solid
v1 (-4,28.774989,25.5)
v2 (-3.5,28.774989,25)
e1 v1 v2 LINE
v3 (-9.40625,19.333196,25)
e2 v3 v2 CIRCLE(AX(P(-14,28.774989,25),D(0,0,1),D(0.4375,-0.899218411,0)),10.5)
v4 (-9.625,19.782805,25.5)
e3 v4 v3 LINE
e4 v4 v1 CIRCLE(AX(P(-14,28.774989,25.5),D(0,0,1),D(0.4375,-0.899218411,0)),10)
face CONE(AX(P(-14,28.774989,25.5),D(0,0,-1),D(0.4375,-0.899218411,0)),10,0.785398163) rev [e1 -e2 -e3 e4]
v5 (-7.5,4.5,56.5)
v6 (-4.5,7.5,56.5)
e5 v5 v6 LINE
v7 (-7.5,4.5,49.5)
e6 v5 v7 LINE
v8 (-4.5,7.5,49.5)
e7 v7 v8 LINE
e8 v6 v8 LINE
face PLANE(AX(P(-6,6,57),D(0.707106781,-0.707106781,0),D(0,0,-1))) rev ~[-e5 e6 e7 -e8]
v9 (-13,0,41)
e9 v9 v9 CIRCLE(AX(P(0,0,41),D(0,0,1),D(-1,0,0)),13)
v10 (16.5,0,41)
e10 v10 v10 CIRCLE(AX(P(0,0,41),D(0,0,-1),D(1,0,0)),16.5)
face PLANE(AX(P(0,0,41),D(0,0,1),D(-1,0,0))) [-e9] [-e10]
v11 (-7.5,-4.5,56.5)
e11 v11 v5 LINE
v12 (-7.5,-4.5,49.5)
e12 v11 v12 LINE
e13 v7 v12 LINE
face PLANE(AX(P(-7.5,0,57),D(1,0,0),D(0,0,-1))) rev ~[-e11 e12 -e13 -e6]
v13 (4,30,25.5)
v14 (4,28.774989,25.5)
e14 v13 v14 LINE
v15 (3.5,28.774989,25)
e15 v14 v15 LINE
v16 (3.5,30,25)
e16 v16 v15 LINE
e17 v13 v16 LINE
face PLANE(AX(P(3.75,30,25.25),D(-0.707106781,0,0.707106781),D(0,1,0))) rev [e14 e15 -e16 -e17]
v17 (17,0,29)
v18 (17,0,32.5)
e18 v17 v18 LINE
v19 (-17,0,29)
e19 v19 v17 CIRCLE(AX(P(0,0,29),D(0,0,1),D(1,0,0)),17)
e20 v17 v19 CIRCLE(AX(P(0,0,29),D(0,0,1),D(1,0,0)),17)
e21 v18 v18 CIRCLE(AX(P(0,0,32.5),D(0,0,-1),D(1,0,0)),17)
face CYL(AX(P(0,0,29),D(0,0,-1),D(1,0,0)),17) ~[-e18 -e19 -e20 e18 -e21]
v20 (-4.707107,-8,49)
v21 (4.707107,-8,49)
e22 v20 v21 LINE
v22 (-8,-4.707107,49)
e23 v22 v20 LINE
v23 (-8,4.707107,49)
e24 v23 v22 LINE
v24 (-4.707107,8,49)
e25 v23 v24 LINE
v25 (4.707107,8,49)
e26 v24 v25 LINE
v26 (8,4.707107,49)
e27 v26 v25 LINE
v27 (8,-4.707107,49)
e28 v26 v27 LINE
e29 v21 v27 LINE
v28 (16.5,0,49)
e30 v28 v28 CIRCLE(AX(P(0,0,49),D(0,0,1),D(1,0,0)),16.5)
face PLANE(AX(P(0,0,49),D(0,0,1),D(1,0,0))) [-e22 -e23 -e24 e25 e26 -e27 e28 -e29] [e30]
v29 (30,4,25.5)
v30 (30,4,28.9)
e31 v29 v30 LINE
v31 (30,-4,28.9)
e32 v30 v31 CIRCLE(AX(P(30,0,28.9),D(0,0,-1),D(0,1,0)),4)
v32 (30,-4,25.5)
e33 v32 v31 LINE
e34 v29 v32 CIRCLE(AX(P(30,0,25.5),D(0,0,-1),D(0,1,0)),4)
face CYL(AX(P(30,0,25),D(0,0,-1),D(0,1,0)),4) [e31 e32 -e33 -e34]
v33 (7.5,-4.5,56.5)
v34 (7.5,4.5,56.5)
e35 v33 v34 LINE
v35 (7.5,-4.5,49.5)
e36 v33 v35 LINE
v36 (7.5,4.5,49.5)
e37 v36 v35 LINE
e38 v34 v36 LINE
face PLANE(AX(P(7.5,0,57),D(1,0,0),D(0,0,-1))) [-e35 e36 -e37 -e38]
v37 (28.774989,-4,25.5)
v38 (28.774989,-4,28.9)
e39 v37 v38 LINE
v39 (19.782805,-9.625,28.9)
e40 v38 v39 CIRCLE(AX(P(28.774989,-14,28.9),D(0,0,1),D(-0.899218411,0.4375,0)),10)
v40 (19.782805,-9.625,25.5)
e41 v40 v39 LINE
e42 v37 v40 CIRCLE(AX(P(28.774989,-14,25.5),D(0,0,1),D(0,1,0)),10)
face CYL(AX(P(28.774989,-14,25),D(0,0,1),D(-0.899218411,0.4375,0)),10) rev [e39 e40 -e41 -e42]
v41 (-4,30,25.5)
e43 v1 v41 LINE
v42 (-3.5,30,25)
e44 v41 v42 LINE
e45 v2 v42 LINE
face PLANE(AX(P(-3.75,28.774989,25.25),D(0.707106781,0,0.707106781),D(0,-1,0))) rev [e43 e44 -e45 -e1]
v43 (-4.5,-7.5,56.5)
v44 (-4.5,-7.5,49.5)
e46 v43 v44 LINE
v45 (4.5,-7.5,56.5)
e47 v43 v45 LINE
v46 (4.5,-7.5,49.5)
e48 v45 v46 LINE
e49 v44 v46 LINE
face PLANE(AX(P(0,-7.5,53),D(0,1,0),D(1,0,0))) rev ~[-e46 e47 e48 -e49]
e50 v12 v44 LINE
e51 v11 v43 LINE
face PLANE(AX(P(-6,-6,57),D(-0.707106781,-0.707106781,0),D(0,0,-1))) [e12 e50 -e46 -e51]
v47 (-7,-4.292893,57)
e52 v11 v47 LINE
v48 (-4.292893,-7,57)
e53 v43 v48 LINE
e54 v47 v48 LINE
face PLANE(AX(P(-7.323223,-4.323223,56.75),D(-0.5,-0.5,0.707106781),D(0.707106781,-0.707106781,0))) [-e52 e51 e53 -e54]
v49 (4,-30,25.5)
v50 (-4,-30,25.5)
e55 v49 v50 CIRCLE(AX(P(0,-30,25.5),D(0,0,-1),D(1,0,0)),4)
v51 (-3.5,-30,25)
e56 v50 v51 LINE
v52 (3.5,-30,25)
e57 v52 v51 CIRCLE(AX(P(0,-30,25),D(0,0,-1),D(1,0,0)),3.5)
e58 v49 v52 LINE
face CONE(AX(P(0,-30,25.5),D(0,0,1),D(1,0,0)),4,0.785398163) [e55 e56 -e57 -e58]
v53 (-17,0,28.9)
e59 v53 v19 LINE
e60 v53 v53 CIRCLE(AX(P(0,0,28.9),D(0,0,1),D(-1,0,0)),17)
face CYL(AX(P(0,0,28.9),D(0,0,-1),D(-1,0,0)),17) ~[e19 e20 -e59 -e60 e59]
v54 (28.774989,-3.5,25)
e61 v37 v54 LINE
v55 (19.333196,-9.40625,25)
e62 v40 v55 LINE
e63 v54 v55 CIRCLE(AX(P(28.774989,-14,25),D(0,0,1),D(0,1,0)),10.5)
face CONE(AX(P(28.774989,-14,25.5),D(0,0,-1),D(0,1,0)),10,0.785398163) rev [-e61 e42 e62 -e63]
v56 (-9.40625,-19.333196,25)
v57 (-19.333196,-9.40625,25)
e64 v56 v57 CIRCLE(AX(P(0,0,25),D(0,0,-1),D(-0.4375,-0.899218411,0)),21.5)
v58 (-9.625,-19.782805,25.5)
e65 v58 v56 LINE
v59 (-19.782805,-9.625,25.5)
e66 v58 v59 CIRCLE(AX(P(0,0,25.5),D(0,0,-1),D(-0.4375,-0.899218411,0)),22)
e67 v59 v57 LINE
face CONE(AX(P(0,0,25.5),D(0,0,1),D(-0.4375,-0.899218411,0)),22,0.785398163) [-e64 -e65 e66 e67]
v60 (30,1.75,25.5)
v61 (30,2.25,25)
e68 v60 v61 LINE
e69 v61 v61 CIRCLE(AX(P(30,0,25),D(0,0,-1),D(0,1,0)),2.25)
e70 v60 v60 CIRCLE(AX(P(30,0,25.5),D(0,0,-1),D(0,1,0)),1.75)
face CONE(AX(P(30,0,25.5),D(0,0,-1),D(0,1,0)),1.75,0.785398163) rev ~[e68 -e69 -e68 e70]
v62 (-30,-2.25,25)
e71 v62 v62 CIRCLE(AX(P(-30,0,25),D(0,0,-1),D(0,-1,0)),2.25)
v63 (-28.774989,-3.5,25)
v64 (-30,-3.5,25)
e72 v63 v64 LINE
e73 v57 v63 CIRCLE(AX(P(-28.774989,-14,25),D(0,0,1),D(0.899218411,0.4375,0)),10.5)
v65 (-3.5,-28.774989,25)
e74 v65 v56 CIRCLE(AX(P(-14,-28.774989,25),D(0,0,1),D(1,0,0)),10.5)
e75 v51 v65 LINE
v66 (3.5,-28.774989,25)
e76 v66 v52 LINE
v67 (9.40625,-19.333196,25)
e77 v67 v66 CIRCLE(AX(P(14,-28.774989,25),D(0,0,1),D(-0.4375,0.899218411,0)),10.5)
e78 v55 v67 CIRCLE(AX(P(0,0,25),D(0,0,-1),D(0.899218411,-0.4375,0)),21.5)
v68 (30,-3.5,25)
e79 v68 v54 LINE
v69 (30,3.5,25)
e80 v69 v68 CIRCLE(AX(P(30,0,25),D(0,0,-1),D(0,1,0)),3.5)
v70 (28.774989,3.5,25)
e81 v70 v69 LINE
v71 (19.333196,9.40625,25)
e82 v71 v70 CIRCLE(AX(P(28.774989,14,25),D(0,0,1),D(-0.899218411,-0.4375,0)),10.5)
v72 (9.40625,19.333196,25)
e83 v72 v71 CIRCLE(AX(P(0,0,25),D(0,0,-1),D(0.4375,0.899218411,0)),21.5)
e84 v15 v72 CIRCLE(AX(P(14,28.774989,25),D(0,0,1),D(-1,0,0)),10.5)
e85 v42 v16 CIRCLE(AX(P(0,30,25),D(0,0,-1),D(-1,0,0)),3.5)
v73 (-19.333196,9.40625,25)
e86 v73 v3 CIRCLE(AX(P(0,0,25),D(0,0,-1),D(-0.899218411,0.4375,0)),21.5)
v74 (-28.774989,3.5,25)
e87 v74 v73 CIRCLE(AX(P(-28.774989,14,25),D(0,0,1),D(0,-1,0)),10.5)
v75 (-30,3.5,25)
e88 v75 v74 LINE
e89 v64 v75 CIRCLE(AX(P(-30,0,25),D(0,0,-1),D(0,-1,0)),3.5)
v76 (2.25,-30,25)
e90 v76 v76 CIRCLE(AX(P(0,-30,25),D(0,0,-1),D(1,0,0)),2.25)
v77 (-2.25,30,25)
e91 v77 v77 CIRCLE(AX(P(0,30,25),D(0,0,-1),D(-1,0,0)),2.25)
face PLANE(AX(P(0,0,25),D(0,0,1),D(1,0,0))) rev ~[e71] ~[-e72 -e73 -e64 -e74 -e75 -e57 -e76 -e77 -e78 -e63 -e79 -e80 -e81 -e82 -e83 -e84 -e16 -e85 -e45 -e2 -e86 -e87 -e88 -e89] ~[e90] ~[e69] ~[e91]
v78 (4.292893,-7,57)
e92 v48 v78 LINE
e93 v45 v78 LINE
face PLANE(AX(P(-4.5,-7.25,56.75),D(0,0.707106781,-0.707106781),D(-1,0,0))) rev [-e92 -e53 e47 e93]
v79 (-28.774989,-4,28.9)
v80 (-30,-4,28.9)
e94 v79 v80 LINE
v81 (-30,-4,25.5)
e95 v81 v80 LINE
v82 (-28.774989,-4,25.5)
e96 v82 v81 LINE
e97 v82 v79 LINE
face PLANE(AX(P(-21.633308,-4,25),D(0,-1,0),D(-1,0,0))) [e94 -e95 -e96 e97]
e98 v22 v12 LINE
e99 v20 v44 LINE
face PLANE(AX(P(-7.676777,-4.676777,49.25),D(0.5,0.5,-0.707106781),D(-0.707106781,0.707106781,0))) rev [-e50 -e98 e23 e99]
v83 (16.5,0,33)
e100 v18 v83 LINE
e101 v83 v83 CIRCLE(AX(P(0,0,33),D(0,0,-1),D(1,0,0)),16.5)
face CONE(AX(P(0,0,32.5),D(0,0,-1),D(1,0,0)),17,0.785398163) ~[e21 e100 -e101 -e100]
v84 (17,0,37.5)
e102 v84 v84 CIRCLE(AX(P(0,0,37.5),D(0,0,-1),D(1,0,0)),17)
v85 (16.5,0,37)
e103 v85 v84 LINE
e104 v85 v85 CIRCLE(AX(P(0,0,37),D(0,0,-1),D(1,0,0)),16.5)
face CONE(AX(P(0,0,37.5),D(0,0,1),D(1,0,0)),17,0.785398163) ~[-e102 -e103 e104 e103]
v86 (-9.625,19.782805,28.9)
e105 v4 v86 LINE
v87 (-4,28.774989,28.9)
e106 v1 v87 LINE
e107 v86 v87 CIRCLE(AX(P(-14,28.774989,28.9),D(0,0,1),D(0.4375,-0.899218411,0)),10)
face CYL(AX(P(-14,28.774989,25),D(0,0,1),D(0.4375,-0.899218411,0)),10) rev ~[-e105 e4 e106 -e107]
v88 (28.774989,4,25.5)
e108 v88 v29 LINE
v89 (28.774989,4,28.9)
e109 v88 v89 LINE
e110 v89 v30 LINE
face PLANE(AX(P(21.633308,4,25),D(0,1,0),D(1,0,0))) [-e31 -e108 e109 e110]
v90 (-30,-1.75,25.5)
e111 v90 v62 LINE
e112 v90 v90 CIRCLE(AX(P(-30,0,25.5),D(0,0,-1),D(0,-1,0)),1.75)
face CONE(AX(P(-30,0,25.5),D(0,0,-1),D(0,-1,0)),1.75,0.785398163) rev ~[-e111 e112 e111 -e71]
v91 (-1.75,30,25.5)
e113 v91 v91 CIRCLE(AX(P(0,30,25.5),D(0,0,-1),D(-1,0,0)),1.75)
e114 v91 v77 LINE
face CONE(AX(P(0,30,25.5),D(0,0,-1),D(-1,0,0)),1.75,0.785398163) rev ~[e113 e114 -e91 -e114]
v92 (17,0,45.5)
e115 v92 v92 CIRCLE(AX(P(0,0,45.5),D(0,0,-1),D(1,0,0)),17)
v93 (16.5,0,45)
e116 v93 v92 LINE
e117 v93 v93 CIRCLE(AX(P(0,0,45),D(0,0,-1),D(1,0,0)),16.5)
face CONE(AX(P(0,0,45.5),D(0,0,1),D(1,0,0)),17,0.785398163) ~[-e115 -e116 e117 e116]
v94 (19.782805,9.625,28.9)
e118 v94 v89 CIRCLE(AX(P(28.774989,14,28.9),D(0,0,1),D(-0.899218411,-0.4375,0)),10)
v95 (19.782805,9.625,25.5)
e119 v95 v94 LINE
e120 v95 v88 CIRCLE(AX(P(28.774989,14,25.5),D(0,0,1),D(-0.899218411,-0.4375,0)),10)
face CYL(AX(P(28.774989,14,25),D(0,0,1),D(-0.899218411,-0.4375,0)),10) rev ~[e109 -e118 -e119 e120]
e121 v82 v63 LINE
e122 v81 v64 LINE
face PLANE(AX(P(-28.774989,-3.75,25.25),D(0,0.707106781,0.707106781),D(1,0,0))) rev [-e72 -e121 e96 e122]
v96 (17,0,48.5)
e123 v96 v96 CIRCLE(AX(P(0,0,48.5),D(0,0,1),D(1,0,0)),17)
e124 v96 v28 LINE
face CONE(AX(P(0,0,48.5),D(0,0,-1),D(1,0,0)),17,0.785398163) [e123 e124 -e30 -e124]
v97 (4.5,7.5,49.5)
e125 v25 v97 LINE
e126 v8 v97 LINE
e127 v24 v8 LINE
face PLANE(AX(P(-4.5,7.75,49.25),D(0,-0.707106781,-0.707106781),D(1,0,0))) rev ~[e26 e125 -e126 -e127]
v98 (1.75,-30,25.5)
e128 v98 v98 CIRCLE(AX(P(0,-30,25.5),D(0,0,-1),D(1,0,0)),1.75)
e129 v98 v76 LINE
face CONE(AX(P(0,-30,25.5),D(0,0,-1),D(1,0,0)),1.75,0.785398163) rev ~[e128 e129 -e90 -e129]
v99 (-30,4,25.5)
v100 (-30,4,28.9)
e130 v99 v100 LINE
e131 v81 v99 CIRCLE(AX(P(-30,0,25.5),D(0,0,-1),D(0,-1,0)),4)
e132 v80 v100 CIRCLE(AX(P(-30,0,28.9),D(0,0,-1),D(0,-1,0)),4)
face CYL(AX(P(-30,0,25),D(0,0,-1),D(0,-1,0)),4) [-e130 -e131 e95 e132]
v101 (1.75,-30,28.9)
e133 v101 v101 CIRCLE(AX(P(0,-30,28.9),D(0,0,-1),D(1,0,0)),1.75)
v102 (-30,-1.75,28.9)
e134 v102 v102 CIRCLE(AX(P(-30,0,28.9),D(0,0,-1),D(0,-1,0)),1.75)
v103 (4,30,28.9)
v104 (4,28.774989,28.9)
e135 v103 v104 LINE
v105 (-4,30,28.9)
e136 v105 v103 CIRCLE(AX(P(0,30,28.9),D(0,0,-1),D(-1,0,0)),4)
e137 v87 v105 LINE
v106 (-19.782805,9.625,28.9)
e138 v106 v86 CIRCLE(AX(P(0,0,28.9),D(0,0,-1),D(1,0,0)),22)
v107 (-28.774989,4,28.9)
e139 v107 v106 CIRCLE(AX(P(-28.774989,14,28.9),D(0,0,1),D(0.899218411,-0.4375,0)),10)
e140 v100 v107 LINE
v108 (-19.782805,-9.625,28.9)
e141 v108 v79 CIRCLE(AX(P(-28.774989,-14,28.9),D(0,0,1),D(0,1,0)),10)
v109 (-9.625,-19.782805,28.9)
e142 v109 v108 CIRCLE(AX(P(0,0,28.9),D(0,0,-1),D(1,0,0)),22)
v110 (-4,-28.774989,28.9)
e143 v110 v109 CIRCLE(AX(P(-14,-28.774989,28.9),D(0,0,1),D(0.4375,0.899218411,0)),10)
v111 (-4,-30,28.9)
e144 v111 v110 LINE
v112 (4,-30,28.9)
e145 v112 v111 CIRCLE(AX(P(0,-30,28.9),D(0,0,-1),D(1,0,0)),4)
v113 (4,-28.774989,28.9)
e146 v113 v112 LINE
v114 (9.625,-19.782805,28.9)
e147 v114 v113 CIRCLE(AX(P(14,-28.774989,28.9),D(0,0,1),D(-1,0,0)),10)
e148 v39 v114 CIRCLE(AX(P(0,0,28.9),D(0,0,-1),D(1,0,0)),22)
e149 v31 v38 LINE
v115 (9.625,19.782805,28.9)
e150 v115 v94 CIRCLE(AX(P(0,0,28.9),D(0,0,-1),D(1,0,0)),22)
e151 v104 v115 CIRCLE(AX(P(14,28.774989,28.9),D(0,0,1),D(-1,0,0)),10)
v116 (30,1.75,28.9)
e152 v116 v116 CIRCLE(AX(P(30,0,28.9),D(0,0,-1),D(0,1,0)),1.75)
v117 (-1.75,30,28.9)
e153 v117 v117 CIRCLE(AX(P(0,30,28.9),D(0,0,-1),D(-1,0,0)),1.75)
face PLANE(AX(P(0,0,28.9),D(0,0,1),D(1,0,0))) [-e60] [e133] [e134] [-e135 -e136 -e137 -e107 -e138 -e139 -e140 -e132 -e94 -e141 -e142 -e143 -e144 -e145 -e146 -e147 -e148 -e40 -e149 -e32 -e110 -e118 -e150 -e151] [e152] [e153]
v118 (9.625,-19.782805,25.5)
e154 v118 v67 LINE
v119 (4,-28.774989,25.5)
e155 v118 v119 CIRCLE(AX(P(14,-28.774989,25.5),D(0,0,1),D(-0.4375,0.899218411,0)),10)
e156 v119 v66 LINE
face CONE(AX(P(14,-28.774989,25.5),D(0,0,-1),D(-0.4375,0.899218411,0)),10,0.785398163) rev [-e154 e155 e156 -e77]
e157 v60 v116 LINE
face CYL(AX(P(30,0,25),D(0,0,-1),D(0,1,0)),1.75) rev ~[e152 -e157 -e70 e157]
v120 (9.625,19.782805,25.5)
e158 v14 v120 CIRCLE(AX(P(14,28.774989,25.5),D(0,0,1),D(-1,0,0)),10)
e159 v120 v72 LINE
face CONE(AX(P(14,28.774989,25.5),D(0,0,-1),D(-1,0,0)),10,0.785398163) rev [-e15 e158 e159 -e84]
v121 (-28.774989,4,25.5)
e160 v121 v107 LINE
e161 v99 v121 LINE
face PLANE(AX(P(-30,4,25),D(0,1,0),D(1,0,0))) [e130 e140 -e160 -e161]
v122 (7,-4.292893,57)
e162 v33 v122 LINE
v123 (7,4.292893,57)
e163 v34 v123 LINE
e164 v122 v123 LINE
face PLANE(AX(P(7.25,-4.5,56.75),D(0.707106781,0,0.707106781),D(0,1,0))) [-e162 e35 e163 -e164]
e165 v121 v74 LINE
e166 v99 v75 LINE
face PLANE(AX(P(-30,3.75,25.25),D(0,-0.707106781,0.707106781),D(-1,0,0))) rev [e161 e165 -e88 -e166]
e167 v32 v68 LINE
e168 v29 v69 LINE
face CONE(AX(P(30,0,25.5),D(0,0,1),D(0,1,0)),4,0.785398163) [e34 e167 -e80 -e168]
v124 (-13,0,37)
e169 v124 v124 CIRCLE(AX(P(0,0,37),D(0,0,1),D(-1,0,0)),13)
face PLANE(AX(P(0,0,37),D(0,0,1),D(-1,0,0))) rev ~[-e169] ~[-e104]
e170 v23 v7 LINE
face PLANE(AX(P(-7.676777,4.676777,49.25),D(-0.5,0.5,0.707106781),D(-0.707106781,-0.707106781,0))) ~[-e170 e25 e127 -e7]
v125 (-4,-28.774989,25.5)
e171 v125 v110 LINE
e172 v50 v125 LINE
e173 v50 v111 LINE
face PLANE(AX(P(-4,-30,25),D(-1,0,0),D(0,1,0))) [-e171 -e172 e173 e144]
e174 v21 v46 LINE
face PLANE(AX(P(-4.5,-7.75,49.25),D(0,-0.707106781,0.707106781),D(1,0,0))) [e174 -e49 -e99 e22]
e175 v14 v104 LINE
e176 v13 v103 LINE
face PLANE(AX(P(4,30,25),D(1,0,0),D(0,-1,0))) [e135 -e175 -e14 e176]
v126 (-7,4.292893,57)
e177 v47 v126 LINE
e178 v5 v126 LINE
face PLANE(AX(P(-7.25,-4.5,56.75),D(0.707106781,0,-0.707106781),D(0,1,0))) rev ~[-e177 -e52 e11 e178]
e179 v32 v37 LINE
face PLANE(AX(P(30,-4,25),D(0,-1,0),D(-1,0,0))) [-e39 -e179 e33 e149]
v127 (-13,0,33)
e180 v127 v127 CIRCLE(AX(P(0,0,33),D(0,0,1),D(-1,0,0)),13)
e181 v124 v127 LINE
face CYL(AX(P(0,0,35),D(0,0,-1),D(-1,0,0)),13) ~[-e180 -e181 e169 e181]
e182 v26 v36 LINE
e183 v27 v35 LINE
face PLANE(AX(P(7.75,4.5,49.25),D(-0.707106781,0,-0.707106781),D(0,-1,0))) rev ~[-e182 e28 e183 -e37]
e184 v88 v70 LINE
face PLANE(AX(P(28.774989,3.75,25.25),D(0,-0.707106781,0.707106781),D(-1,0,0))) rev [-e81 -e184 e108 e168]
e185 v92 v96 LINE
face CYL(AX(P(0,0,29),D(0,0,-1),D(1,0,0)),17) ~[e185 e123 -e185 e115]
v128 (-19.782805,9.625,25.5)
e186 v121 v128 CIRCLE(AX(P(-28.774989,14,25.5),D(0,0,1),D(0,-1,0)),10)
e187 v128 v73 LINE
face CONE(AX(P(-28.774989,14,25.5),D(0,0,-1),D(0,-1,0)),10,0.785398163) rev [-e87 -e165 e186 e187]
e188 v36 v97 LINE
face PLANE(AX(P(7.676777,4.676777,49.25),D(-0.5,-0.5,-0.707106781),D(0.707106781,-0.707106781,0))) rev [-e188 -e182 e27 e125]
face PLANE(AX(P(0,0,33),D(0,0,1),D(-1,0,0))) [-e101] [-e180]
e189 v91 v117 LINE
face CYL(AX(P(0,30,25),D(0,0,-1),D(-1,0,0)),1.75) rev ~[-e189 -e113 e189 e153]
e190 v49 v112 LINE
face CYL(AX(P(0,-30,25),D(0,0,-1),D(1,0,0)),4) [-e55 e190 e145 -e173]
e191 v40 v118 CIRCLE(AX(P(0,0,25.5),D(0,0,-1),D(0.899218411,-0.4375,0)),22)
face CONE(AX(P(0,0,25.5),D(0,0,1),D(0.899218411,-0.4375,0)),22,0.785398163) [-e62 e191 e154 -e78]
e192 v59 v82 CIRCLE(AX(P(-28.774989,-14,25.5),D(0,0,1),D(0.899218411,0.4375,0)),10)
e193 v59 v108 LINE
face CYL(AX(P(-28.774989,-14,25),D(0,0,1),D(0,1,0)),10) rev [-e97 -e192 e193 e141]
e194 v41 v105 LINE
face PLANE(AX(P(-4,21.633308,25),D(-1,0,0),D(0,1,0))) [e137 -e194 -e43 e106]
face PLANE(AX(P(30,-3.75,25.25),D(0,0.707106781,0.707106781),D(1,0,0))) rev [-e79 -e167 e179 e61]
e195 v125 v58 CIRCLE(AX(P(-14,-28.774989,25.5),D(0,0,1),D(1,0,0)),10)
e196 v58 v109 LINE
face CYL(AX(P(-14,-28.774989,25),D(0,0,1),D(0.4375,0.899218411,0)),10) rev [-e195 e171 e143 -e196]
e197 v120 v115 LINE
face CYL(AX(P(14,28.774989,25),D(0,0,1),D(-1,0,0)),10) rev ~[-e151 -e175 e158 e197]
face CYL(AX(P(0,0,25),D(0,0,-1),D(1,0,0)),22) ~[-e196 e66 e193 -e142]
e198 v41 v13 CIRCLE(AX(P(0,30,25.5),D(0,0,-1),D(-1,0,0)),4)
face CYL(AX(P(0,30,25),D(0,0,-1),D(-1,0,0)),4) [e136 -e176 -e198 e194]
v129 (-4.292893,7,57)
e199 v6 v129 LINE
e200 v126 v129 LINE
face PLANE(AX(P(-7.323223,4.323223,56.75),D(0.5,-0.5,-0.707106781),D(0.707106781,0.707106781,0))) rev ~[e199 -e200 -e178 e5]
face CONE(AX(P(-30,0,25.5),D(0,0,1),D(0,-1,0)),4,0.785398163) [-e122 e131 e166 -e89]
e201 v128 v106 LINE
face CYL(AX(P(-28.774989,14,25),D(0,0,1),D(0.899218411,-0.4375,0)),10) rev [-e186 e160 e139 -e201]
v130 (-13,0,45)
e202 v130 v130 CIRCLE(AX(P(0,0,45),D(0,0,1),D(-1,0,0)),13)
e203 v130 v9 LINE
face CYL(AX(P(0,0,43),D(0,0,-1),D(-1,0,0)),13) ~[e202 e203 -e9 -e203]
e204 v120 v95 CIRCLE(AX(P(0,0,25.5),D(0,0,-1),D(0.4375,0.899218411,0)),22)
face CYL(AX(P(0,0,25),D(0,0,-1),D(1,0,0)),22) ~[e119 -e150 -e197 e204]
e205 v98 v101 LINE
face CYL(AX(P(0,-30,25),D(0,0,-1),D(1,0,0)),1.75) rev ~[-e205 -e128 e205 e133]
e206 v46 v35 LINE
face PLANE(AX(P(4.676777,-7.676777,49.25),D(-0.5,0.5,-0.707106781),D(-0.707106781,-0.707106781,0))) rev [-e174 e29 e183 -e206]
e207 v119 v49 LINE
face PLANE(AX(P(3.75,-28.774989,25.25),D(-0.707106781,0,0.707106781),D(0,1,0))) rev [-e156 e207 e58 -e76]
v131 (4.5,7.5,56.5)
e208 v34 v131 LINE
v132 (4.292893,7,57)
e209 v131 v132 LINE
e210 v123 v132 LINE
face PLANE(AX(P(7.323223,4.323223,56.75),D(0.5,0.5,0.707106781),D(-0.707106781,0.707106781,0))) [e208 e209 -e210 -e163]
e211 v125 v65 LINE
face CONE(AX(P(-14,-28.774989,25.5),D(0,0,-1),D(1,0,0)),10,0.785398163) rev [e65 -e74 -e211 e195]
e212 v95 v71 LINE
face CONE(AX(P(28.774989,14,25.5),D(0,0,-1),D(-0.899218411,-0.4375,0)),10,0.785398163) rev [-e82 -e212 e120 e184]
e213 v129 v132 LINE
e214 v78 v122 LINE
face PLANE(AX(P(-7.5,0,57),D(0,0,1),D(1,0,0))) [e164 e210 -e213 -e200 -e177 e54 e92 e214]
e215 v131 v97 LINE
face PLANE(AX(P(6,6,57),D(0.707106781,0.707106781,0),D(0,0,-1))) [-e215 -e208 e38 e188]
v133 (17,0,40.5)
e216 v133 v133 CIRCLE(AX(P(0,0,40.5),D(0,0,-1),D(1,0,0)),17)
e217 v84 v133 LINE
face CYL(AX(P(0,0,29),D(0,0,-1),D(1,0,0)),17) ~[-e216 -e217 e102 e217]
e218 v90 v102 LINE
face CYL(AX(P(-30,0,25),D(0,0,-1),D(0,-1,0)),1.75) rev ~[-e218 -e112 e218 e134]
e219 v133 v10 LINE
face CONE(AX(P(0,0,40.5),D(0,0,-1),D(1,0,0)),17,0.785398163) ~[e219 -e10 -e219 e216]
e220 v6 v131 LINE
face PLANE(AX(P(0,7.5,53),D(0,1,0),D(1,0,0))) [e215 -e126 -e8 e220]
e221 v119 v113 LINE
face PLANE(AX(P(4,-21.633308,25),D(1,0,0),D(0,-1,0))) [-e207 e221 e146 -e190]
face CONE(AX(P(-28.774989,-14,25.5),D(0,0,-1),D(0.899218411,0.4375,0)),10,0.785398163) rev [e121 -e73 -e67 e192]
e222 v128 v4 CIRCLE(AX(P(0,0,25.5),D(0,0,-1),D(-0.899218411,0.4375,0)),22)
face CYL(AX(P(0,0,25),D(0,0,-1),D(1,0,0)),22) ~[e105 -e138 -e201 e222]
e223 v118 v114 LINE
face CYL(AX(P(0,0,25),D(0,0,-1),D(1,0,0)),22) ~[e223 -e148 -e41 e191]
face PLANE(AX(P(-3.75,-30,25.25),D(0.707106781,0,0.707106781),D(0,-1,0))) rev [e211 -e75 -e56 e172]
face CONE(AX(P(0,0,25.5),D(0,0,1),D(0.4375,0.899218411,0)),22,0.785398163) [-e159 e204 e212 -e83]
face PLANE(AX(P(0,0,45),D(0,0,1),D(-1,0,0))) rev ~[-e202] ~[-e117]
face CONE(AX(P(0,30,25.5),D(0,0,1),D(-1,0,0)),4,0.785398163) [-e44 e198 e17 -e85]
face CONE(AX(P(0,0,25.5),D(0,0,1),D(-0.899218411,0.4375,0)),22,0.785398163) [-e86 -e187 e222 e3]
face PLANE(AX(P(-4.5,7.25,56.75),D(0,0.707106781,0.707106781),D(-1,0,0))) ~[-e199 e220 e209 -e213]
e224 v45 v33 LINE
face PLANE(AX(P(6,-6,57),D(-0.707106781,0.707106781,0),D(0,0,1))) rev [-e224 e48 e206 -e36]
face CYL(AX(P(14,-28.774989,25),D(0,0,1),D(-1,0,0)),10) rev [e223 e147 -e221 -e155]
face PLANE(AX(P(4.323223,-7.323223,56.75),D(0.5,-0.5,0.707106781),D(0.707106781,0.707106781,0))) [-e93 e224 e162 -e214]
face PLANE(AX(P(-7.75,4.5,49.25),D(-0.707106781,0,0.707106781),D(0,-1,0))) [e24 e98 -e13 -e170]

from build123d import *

# Parameters (mm, degrees)
SKETCH2_R           = 15
SKETCH1_R           = 25
SKETCH3_R           = 15
BOSS_EXTRUDE1_DEPTH = 5
FILLET1_R           = 10
SKETCH4_R           = 1.75
CUT_EXTRUDE1_DEPTH  = 130
SKETCH5_R           = 4
CUT_EXTRUDE2_DEPTH  = 130
SKETCH6_R           = 22
BOSS_EXTRUDE2_DEPTH = 4
SKETCH7_R           = 17
BOSS_EXTRUDE3_DEPTH = 20
SKETCH15_W          = 8.431609766
SKETCH15_H          = 4
SKETCH15_W_2        = 8.578672696
SKETCH18_R          = 12.5
CUT_EXTRUDE5_DEPTH  = 20
SKETCH19_R          = 47.987160243
CUT_EXTRUDE6_DEPTH  = 44.301270362
SKETCH20_R          = 1.75
BOSS_EXTRUDE5_DEPTH = 4
CIRPATTERN3_COUNT   = 4
FILLET2_R           = 10
CHAMFER1_SIZE       = 0.5
SKETCH22_W          = 15
SKETCH22_H          = 8
BOSS_EXTRUDE6_DEPTH = 7.5
CHAMFER2_SIZE       = 3
CHAMFER3_SIZE       = 0.5
CUT_EXTRUDE8_START  = -0.1
SKETCH24_R          = 41.017326151
SKETCH24_R_2        = 17
CUT_EXTRUDE8_DEPTH  = 0.1
CHAMFER4_SIZE       = 0.5


with BuildPart() as part:
    # Sketch2 → Loft1 section 0
    with BuildSketch(Plane.XY.offset(20)):
        Circle(SKETCH2_R)
    # Sketch1 → Loft1 section 1
    with BuildSketch(Plane.XY):
        Circle(SKETCH1_R)
    loft()

    # Sketch3 → Boss-Extrude1 (add)
    with BuildSketch(Plane.XY.offset(20)):
        Circle(SKETCH3_R)
    extrude(amount=BOSS_EXTRUDE1_DEPTH)

    # Fillet1
    fillet1_edges = [part.edges().sort_by_distance(p)[0] for p in [
        (-15, 0, 20),
    ]]
    fillet(fillet1_edges, radius=FILLET1_R)

    # Sketch4 → Cut-Extrude1 (cut)
    with BuildSketch(Plane(origin=(0, 0, 0), x_dir=(-1, 0, 0), z_dir=(0, 0, -1))):
        with Locations((0, 20)):
            Circle(SKETCH4_R)
        with Locations((-20, 0)):
            Circle(SKETCH4_R)
        with Locations((0, -20)):
            Circle(SKETCH4_R)
        with Locations((20, 0)):
            Circle(SKETCH4_R)
    extrude(amount=-CUT_EXTRUDE1_DEPTH, mode=Mode.SUBTRACT)

    # Sketch5 → Cut-Extrude2 (cut)
    with BuildSketch(Plane(origin=(0, 0, 3), x_dir=(-1, 0, 0), z_dir=(0, 0, -1))):
        with Locations((0, 20)):
            Circle(SKETCH5_R)
        with Locations((20, 0)):
            Circle(SKETCH5_R)
        with Locations((-20, 0)):
            Circle(SKETCH5_R)
        with Locations((0, -20)):
            Circle(SKETCH5_R)
    extrude(amount=-CUT_EXTRUDE2_DEPTH, mode=Mode.SUBTRACT)

    # Sketch6 → Boss-Extrude2 (add)
    with BuildSketch(Plane.XY.offset(25)):
        Circle(SKETCH6_R)
    extrude(amount=BOSS_EXTRUDE2_DEPTH)

    # Sketch7 → Boss-Extrude3 (add)
    with BuildSketch(Plane.XY.offset(29)):
        Circle(SKETCH7_R)
    extrude(amount=BOSS_EXTRUDE3_DEPTH)

    # Sketch15 → Cut-Revolve1 (revolve, cut)
    with BuildSketch(Plane(origin=(0, 0, 0), x_dir=(1, 0, 0), z_dir=(0, 1, 0))):
        with Locations((-17.215804883, -35)):
            Rectangle(SKETCH15_W, SKETCH15_H)
        with Locations((-17.289336348, -43)):
            Rectangle(SKETCH15_W_2, SKETCH15_H)
    revolve(axis=Axis((0, 0, 29), (0, 0, 1)), mode=Mode.SUBTRACT)

    # Sketch18 → Cut-Extrude5 (cut)
    with BuildSketch(Plane(origin=(0, 0, 0), x_dir=(-1, 0, 0), z_dir=(0, 0, -1))):
        Circle(SKETCH18_R)
    extrude(amount=-CUT_EXTRUDE5_DEPTH, mode=Mode.SUBTRACT)

    # Sketch19 → Cut-Extrude6 (cut, through all)
    with BuildSketch(Plane(origin=(0, 0, 25), x_dir=(-1, 0, 0), z_dir=(0, 0, -1))):
        Circle(SKETCH19_R)
    extrude(amount=CUT_EXTRUDE6_DEPTH, mode=Mode.SUBTRACT)

    # Sketch20 → Boss-Extrude5 (add)
    with BuildSketch(Plane(origin=(0, 0, 25), x_dir=(-1, 0, 0), z_dir=(0, 0, -1))):
        with BuildLine():
            Line((-4, 30), (-4, 21.633307653))
            ThreePointArc((-4, 21.633307653), (0, 22), (4, 21.633307653))
            Line((4, 21.633307653), (4, 30))
            ThreePointArc((4, 30), (0, 34), (-4, 30))
        make_face()
        with Locations((0, 30)):
            Circle(SKETCH20_R, mode=Mode.SUBTRACT)
    boss_extrude5 = extrude(amount=-BOSS_EXTRUDE5_DEPTH)

    # CirPattern3: Boss-Extrude5 ×4 about axis
    cirpattern3_axis = Axis((0, 0, 0), (0, 0, 1))
    for i in range(1, CIRPATTERN3_COUNT):
        add(boss_extrude5.rotate(cirpattern3_axis, i * 360 / CIRPATTERN3_COUNT))

    # Fillet2
    fillet2_edges = [part.edges().sort_by_distance(p)[0] for p in [
        (-4, 21.633307653, 27),
        (4, 21.633307653, 27),
        (-21.633307653, -4, 27),
        (-21.633307653, 4, 27),
        (4, -21.633307653, 27),
        (-4, -21.633307653, 27),
        (21.633307653, 4, 27),
        (21.633307653, -4, 27),
    ]]
    fillet(fillet2_edges, radius=FILLET2_R)

    # Chamfer1
    chamfer1_edges = [part.edges().sort_by_distance(p)[0] for p in [
        (-17, 0, 49),
        (-17, 0, 37),
        (-17, 0, 33),
        (-17, 0, 45),
        (-17, 0, 41),
    ]]
    chamfer(chamfer1_edges, length=CHAMFER1_SIZE)

    # Sketch22 → Boss-Extrude6 (add, symmetric)
    with BuildSketch(Plane(origin=(0, 0, 0), x_dir=(1, 0, 0), z_dir=(0, 1, 0))):
        with Locations((0, -53)):
            Rectangle(SKETCH22_W, SKETCH22_H)
    extrude(amount=BOSS_EXTRUDE6_DEPTH, both=True)

    # Chamfer2
    chamfer2_edges = [part.edges().sort_by_distance(p)[0] for p in [
        (7.5, -7.5, 53),
        (-7.5, -7.5, 53),
        (7.5, 7.5, 53),
        (-7.5, 7.5, 53),
    ]]
    chamfer(chamfer2_edges, length=CHAMFER2_SIZE)

    # Chamfer3
    chamfer3_edges = [part.edges().sort_by_distance(p)[0] for p in [
        (7.5, 0, 49),
        (7.5, 0, 57),
        (0, -7.5, 57),
        (0, -7.5, 49),
        (0, 7.5, 57),
        (-7.5, 0, 57),
        (-6, 6, 57),
        (-6, -6, 57),
        (6, 6, 57),
        (6, -6, 57),
        (0, 7.5, 49),
        (-7.5, 0, 49),
        (6, -6, 49),
        (6, 6, 49),
        (-6, -6, 49),
        (-6, 6, 49),
    ]]
    chamfer(chamfer3_edges, length=CHAMFER3_SIZE)

    # Sketch24 → Cut-Extrude8 (cut)
    with BuildSketch(Plane.XY.offset(29).offset(CUT_EXTRUDE8_START)):
        Circle(SKETCH24_R)
        with Locations(Location((0, 0, 0), (0, 0, 180))):
            Circle(SKETCH24_R_2, mode=Mode.SUBTRACT)
    extrude(amount=CUT_EXTRUDE8_DEPTH, mode=Mode.SUBTRACT)

    # Chamfer4
    chamfer4_edges = [part.edges().sort_by_distance(p)[0] for p in [
        (0, 34, 25),
        (4, 29.38749457, 25),
        (1.75, 30, 25),
        (-34, 0, 25),
        (-29.38749457, 4, 25),
        (-30, 1.75, 25),
        (0, -34, 25),
        (-4, -29.38749457, 25),
        (-1.75, -30, 25),
        (34, 0, 25),
        (29.38749457, -4, 25),
        (30, -1.75, 25),
        (15.556349186, 15.556349186, 25),
        (29.38749457, 4, 25),
        (15.556349186, -15.556349186, 25),
        (4, -29.38749457, 25),
        (-15.556349186, -15.556349186, 25),
        (-29.38749457, -4, 25),
        (-15.556349186, 15.556349186, 25),
        (-4, 29.38749457, 25),
        (23.471688281, 5.522087521, 25),
        (23.471688281, -5.522087521, 25),
        (5.522087521, -23.471688281, 25),
        (-5.522087521, -23.471688281, 25),
        (-23.471688281, -5.522087521, 25),
        (-23.471688281, 5.522087521, 25),
        (-5.522087521, 23.471688281, 25),
        (5.522087521, 23.471688281, 25),
    ]]
    chamfer(chamfer4_edges, length=CHAMFER4_SIZE)


solid = part.part
